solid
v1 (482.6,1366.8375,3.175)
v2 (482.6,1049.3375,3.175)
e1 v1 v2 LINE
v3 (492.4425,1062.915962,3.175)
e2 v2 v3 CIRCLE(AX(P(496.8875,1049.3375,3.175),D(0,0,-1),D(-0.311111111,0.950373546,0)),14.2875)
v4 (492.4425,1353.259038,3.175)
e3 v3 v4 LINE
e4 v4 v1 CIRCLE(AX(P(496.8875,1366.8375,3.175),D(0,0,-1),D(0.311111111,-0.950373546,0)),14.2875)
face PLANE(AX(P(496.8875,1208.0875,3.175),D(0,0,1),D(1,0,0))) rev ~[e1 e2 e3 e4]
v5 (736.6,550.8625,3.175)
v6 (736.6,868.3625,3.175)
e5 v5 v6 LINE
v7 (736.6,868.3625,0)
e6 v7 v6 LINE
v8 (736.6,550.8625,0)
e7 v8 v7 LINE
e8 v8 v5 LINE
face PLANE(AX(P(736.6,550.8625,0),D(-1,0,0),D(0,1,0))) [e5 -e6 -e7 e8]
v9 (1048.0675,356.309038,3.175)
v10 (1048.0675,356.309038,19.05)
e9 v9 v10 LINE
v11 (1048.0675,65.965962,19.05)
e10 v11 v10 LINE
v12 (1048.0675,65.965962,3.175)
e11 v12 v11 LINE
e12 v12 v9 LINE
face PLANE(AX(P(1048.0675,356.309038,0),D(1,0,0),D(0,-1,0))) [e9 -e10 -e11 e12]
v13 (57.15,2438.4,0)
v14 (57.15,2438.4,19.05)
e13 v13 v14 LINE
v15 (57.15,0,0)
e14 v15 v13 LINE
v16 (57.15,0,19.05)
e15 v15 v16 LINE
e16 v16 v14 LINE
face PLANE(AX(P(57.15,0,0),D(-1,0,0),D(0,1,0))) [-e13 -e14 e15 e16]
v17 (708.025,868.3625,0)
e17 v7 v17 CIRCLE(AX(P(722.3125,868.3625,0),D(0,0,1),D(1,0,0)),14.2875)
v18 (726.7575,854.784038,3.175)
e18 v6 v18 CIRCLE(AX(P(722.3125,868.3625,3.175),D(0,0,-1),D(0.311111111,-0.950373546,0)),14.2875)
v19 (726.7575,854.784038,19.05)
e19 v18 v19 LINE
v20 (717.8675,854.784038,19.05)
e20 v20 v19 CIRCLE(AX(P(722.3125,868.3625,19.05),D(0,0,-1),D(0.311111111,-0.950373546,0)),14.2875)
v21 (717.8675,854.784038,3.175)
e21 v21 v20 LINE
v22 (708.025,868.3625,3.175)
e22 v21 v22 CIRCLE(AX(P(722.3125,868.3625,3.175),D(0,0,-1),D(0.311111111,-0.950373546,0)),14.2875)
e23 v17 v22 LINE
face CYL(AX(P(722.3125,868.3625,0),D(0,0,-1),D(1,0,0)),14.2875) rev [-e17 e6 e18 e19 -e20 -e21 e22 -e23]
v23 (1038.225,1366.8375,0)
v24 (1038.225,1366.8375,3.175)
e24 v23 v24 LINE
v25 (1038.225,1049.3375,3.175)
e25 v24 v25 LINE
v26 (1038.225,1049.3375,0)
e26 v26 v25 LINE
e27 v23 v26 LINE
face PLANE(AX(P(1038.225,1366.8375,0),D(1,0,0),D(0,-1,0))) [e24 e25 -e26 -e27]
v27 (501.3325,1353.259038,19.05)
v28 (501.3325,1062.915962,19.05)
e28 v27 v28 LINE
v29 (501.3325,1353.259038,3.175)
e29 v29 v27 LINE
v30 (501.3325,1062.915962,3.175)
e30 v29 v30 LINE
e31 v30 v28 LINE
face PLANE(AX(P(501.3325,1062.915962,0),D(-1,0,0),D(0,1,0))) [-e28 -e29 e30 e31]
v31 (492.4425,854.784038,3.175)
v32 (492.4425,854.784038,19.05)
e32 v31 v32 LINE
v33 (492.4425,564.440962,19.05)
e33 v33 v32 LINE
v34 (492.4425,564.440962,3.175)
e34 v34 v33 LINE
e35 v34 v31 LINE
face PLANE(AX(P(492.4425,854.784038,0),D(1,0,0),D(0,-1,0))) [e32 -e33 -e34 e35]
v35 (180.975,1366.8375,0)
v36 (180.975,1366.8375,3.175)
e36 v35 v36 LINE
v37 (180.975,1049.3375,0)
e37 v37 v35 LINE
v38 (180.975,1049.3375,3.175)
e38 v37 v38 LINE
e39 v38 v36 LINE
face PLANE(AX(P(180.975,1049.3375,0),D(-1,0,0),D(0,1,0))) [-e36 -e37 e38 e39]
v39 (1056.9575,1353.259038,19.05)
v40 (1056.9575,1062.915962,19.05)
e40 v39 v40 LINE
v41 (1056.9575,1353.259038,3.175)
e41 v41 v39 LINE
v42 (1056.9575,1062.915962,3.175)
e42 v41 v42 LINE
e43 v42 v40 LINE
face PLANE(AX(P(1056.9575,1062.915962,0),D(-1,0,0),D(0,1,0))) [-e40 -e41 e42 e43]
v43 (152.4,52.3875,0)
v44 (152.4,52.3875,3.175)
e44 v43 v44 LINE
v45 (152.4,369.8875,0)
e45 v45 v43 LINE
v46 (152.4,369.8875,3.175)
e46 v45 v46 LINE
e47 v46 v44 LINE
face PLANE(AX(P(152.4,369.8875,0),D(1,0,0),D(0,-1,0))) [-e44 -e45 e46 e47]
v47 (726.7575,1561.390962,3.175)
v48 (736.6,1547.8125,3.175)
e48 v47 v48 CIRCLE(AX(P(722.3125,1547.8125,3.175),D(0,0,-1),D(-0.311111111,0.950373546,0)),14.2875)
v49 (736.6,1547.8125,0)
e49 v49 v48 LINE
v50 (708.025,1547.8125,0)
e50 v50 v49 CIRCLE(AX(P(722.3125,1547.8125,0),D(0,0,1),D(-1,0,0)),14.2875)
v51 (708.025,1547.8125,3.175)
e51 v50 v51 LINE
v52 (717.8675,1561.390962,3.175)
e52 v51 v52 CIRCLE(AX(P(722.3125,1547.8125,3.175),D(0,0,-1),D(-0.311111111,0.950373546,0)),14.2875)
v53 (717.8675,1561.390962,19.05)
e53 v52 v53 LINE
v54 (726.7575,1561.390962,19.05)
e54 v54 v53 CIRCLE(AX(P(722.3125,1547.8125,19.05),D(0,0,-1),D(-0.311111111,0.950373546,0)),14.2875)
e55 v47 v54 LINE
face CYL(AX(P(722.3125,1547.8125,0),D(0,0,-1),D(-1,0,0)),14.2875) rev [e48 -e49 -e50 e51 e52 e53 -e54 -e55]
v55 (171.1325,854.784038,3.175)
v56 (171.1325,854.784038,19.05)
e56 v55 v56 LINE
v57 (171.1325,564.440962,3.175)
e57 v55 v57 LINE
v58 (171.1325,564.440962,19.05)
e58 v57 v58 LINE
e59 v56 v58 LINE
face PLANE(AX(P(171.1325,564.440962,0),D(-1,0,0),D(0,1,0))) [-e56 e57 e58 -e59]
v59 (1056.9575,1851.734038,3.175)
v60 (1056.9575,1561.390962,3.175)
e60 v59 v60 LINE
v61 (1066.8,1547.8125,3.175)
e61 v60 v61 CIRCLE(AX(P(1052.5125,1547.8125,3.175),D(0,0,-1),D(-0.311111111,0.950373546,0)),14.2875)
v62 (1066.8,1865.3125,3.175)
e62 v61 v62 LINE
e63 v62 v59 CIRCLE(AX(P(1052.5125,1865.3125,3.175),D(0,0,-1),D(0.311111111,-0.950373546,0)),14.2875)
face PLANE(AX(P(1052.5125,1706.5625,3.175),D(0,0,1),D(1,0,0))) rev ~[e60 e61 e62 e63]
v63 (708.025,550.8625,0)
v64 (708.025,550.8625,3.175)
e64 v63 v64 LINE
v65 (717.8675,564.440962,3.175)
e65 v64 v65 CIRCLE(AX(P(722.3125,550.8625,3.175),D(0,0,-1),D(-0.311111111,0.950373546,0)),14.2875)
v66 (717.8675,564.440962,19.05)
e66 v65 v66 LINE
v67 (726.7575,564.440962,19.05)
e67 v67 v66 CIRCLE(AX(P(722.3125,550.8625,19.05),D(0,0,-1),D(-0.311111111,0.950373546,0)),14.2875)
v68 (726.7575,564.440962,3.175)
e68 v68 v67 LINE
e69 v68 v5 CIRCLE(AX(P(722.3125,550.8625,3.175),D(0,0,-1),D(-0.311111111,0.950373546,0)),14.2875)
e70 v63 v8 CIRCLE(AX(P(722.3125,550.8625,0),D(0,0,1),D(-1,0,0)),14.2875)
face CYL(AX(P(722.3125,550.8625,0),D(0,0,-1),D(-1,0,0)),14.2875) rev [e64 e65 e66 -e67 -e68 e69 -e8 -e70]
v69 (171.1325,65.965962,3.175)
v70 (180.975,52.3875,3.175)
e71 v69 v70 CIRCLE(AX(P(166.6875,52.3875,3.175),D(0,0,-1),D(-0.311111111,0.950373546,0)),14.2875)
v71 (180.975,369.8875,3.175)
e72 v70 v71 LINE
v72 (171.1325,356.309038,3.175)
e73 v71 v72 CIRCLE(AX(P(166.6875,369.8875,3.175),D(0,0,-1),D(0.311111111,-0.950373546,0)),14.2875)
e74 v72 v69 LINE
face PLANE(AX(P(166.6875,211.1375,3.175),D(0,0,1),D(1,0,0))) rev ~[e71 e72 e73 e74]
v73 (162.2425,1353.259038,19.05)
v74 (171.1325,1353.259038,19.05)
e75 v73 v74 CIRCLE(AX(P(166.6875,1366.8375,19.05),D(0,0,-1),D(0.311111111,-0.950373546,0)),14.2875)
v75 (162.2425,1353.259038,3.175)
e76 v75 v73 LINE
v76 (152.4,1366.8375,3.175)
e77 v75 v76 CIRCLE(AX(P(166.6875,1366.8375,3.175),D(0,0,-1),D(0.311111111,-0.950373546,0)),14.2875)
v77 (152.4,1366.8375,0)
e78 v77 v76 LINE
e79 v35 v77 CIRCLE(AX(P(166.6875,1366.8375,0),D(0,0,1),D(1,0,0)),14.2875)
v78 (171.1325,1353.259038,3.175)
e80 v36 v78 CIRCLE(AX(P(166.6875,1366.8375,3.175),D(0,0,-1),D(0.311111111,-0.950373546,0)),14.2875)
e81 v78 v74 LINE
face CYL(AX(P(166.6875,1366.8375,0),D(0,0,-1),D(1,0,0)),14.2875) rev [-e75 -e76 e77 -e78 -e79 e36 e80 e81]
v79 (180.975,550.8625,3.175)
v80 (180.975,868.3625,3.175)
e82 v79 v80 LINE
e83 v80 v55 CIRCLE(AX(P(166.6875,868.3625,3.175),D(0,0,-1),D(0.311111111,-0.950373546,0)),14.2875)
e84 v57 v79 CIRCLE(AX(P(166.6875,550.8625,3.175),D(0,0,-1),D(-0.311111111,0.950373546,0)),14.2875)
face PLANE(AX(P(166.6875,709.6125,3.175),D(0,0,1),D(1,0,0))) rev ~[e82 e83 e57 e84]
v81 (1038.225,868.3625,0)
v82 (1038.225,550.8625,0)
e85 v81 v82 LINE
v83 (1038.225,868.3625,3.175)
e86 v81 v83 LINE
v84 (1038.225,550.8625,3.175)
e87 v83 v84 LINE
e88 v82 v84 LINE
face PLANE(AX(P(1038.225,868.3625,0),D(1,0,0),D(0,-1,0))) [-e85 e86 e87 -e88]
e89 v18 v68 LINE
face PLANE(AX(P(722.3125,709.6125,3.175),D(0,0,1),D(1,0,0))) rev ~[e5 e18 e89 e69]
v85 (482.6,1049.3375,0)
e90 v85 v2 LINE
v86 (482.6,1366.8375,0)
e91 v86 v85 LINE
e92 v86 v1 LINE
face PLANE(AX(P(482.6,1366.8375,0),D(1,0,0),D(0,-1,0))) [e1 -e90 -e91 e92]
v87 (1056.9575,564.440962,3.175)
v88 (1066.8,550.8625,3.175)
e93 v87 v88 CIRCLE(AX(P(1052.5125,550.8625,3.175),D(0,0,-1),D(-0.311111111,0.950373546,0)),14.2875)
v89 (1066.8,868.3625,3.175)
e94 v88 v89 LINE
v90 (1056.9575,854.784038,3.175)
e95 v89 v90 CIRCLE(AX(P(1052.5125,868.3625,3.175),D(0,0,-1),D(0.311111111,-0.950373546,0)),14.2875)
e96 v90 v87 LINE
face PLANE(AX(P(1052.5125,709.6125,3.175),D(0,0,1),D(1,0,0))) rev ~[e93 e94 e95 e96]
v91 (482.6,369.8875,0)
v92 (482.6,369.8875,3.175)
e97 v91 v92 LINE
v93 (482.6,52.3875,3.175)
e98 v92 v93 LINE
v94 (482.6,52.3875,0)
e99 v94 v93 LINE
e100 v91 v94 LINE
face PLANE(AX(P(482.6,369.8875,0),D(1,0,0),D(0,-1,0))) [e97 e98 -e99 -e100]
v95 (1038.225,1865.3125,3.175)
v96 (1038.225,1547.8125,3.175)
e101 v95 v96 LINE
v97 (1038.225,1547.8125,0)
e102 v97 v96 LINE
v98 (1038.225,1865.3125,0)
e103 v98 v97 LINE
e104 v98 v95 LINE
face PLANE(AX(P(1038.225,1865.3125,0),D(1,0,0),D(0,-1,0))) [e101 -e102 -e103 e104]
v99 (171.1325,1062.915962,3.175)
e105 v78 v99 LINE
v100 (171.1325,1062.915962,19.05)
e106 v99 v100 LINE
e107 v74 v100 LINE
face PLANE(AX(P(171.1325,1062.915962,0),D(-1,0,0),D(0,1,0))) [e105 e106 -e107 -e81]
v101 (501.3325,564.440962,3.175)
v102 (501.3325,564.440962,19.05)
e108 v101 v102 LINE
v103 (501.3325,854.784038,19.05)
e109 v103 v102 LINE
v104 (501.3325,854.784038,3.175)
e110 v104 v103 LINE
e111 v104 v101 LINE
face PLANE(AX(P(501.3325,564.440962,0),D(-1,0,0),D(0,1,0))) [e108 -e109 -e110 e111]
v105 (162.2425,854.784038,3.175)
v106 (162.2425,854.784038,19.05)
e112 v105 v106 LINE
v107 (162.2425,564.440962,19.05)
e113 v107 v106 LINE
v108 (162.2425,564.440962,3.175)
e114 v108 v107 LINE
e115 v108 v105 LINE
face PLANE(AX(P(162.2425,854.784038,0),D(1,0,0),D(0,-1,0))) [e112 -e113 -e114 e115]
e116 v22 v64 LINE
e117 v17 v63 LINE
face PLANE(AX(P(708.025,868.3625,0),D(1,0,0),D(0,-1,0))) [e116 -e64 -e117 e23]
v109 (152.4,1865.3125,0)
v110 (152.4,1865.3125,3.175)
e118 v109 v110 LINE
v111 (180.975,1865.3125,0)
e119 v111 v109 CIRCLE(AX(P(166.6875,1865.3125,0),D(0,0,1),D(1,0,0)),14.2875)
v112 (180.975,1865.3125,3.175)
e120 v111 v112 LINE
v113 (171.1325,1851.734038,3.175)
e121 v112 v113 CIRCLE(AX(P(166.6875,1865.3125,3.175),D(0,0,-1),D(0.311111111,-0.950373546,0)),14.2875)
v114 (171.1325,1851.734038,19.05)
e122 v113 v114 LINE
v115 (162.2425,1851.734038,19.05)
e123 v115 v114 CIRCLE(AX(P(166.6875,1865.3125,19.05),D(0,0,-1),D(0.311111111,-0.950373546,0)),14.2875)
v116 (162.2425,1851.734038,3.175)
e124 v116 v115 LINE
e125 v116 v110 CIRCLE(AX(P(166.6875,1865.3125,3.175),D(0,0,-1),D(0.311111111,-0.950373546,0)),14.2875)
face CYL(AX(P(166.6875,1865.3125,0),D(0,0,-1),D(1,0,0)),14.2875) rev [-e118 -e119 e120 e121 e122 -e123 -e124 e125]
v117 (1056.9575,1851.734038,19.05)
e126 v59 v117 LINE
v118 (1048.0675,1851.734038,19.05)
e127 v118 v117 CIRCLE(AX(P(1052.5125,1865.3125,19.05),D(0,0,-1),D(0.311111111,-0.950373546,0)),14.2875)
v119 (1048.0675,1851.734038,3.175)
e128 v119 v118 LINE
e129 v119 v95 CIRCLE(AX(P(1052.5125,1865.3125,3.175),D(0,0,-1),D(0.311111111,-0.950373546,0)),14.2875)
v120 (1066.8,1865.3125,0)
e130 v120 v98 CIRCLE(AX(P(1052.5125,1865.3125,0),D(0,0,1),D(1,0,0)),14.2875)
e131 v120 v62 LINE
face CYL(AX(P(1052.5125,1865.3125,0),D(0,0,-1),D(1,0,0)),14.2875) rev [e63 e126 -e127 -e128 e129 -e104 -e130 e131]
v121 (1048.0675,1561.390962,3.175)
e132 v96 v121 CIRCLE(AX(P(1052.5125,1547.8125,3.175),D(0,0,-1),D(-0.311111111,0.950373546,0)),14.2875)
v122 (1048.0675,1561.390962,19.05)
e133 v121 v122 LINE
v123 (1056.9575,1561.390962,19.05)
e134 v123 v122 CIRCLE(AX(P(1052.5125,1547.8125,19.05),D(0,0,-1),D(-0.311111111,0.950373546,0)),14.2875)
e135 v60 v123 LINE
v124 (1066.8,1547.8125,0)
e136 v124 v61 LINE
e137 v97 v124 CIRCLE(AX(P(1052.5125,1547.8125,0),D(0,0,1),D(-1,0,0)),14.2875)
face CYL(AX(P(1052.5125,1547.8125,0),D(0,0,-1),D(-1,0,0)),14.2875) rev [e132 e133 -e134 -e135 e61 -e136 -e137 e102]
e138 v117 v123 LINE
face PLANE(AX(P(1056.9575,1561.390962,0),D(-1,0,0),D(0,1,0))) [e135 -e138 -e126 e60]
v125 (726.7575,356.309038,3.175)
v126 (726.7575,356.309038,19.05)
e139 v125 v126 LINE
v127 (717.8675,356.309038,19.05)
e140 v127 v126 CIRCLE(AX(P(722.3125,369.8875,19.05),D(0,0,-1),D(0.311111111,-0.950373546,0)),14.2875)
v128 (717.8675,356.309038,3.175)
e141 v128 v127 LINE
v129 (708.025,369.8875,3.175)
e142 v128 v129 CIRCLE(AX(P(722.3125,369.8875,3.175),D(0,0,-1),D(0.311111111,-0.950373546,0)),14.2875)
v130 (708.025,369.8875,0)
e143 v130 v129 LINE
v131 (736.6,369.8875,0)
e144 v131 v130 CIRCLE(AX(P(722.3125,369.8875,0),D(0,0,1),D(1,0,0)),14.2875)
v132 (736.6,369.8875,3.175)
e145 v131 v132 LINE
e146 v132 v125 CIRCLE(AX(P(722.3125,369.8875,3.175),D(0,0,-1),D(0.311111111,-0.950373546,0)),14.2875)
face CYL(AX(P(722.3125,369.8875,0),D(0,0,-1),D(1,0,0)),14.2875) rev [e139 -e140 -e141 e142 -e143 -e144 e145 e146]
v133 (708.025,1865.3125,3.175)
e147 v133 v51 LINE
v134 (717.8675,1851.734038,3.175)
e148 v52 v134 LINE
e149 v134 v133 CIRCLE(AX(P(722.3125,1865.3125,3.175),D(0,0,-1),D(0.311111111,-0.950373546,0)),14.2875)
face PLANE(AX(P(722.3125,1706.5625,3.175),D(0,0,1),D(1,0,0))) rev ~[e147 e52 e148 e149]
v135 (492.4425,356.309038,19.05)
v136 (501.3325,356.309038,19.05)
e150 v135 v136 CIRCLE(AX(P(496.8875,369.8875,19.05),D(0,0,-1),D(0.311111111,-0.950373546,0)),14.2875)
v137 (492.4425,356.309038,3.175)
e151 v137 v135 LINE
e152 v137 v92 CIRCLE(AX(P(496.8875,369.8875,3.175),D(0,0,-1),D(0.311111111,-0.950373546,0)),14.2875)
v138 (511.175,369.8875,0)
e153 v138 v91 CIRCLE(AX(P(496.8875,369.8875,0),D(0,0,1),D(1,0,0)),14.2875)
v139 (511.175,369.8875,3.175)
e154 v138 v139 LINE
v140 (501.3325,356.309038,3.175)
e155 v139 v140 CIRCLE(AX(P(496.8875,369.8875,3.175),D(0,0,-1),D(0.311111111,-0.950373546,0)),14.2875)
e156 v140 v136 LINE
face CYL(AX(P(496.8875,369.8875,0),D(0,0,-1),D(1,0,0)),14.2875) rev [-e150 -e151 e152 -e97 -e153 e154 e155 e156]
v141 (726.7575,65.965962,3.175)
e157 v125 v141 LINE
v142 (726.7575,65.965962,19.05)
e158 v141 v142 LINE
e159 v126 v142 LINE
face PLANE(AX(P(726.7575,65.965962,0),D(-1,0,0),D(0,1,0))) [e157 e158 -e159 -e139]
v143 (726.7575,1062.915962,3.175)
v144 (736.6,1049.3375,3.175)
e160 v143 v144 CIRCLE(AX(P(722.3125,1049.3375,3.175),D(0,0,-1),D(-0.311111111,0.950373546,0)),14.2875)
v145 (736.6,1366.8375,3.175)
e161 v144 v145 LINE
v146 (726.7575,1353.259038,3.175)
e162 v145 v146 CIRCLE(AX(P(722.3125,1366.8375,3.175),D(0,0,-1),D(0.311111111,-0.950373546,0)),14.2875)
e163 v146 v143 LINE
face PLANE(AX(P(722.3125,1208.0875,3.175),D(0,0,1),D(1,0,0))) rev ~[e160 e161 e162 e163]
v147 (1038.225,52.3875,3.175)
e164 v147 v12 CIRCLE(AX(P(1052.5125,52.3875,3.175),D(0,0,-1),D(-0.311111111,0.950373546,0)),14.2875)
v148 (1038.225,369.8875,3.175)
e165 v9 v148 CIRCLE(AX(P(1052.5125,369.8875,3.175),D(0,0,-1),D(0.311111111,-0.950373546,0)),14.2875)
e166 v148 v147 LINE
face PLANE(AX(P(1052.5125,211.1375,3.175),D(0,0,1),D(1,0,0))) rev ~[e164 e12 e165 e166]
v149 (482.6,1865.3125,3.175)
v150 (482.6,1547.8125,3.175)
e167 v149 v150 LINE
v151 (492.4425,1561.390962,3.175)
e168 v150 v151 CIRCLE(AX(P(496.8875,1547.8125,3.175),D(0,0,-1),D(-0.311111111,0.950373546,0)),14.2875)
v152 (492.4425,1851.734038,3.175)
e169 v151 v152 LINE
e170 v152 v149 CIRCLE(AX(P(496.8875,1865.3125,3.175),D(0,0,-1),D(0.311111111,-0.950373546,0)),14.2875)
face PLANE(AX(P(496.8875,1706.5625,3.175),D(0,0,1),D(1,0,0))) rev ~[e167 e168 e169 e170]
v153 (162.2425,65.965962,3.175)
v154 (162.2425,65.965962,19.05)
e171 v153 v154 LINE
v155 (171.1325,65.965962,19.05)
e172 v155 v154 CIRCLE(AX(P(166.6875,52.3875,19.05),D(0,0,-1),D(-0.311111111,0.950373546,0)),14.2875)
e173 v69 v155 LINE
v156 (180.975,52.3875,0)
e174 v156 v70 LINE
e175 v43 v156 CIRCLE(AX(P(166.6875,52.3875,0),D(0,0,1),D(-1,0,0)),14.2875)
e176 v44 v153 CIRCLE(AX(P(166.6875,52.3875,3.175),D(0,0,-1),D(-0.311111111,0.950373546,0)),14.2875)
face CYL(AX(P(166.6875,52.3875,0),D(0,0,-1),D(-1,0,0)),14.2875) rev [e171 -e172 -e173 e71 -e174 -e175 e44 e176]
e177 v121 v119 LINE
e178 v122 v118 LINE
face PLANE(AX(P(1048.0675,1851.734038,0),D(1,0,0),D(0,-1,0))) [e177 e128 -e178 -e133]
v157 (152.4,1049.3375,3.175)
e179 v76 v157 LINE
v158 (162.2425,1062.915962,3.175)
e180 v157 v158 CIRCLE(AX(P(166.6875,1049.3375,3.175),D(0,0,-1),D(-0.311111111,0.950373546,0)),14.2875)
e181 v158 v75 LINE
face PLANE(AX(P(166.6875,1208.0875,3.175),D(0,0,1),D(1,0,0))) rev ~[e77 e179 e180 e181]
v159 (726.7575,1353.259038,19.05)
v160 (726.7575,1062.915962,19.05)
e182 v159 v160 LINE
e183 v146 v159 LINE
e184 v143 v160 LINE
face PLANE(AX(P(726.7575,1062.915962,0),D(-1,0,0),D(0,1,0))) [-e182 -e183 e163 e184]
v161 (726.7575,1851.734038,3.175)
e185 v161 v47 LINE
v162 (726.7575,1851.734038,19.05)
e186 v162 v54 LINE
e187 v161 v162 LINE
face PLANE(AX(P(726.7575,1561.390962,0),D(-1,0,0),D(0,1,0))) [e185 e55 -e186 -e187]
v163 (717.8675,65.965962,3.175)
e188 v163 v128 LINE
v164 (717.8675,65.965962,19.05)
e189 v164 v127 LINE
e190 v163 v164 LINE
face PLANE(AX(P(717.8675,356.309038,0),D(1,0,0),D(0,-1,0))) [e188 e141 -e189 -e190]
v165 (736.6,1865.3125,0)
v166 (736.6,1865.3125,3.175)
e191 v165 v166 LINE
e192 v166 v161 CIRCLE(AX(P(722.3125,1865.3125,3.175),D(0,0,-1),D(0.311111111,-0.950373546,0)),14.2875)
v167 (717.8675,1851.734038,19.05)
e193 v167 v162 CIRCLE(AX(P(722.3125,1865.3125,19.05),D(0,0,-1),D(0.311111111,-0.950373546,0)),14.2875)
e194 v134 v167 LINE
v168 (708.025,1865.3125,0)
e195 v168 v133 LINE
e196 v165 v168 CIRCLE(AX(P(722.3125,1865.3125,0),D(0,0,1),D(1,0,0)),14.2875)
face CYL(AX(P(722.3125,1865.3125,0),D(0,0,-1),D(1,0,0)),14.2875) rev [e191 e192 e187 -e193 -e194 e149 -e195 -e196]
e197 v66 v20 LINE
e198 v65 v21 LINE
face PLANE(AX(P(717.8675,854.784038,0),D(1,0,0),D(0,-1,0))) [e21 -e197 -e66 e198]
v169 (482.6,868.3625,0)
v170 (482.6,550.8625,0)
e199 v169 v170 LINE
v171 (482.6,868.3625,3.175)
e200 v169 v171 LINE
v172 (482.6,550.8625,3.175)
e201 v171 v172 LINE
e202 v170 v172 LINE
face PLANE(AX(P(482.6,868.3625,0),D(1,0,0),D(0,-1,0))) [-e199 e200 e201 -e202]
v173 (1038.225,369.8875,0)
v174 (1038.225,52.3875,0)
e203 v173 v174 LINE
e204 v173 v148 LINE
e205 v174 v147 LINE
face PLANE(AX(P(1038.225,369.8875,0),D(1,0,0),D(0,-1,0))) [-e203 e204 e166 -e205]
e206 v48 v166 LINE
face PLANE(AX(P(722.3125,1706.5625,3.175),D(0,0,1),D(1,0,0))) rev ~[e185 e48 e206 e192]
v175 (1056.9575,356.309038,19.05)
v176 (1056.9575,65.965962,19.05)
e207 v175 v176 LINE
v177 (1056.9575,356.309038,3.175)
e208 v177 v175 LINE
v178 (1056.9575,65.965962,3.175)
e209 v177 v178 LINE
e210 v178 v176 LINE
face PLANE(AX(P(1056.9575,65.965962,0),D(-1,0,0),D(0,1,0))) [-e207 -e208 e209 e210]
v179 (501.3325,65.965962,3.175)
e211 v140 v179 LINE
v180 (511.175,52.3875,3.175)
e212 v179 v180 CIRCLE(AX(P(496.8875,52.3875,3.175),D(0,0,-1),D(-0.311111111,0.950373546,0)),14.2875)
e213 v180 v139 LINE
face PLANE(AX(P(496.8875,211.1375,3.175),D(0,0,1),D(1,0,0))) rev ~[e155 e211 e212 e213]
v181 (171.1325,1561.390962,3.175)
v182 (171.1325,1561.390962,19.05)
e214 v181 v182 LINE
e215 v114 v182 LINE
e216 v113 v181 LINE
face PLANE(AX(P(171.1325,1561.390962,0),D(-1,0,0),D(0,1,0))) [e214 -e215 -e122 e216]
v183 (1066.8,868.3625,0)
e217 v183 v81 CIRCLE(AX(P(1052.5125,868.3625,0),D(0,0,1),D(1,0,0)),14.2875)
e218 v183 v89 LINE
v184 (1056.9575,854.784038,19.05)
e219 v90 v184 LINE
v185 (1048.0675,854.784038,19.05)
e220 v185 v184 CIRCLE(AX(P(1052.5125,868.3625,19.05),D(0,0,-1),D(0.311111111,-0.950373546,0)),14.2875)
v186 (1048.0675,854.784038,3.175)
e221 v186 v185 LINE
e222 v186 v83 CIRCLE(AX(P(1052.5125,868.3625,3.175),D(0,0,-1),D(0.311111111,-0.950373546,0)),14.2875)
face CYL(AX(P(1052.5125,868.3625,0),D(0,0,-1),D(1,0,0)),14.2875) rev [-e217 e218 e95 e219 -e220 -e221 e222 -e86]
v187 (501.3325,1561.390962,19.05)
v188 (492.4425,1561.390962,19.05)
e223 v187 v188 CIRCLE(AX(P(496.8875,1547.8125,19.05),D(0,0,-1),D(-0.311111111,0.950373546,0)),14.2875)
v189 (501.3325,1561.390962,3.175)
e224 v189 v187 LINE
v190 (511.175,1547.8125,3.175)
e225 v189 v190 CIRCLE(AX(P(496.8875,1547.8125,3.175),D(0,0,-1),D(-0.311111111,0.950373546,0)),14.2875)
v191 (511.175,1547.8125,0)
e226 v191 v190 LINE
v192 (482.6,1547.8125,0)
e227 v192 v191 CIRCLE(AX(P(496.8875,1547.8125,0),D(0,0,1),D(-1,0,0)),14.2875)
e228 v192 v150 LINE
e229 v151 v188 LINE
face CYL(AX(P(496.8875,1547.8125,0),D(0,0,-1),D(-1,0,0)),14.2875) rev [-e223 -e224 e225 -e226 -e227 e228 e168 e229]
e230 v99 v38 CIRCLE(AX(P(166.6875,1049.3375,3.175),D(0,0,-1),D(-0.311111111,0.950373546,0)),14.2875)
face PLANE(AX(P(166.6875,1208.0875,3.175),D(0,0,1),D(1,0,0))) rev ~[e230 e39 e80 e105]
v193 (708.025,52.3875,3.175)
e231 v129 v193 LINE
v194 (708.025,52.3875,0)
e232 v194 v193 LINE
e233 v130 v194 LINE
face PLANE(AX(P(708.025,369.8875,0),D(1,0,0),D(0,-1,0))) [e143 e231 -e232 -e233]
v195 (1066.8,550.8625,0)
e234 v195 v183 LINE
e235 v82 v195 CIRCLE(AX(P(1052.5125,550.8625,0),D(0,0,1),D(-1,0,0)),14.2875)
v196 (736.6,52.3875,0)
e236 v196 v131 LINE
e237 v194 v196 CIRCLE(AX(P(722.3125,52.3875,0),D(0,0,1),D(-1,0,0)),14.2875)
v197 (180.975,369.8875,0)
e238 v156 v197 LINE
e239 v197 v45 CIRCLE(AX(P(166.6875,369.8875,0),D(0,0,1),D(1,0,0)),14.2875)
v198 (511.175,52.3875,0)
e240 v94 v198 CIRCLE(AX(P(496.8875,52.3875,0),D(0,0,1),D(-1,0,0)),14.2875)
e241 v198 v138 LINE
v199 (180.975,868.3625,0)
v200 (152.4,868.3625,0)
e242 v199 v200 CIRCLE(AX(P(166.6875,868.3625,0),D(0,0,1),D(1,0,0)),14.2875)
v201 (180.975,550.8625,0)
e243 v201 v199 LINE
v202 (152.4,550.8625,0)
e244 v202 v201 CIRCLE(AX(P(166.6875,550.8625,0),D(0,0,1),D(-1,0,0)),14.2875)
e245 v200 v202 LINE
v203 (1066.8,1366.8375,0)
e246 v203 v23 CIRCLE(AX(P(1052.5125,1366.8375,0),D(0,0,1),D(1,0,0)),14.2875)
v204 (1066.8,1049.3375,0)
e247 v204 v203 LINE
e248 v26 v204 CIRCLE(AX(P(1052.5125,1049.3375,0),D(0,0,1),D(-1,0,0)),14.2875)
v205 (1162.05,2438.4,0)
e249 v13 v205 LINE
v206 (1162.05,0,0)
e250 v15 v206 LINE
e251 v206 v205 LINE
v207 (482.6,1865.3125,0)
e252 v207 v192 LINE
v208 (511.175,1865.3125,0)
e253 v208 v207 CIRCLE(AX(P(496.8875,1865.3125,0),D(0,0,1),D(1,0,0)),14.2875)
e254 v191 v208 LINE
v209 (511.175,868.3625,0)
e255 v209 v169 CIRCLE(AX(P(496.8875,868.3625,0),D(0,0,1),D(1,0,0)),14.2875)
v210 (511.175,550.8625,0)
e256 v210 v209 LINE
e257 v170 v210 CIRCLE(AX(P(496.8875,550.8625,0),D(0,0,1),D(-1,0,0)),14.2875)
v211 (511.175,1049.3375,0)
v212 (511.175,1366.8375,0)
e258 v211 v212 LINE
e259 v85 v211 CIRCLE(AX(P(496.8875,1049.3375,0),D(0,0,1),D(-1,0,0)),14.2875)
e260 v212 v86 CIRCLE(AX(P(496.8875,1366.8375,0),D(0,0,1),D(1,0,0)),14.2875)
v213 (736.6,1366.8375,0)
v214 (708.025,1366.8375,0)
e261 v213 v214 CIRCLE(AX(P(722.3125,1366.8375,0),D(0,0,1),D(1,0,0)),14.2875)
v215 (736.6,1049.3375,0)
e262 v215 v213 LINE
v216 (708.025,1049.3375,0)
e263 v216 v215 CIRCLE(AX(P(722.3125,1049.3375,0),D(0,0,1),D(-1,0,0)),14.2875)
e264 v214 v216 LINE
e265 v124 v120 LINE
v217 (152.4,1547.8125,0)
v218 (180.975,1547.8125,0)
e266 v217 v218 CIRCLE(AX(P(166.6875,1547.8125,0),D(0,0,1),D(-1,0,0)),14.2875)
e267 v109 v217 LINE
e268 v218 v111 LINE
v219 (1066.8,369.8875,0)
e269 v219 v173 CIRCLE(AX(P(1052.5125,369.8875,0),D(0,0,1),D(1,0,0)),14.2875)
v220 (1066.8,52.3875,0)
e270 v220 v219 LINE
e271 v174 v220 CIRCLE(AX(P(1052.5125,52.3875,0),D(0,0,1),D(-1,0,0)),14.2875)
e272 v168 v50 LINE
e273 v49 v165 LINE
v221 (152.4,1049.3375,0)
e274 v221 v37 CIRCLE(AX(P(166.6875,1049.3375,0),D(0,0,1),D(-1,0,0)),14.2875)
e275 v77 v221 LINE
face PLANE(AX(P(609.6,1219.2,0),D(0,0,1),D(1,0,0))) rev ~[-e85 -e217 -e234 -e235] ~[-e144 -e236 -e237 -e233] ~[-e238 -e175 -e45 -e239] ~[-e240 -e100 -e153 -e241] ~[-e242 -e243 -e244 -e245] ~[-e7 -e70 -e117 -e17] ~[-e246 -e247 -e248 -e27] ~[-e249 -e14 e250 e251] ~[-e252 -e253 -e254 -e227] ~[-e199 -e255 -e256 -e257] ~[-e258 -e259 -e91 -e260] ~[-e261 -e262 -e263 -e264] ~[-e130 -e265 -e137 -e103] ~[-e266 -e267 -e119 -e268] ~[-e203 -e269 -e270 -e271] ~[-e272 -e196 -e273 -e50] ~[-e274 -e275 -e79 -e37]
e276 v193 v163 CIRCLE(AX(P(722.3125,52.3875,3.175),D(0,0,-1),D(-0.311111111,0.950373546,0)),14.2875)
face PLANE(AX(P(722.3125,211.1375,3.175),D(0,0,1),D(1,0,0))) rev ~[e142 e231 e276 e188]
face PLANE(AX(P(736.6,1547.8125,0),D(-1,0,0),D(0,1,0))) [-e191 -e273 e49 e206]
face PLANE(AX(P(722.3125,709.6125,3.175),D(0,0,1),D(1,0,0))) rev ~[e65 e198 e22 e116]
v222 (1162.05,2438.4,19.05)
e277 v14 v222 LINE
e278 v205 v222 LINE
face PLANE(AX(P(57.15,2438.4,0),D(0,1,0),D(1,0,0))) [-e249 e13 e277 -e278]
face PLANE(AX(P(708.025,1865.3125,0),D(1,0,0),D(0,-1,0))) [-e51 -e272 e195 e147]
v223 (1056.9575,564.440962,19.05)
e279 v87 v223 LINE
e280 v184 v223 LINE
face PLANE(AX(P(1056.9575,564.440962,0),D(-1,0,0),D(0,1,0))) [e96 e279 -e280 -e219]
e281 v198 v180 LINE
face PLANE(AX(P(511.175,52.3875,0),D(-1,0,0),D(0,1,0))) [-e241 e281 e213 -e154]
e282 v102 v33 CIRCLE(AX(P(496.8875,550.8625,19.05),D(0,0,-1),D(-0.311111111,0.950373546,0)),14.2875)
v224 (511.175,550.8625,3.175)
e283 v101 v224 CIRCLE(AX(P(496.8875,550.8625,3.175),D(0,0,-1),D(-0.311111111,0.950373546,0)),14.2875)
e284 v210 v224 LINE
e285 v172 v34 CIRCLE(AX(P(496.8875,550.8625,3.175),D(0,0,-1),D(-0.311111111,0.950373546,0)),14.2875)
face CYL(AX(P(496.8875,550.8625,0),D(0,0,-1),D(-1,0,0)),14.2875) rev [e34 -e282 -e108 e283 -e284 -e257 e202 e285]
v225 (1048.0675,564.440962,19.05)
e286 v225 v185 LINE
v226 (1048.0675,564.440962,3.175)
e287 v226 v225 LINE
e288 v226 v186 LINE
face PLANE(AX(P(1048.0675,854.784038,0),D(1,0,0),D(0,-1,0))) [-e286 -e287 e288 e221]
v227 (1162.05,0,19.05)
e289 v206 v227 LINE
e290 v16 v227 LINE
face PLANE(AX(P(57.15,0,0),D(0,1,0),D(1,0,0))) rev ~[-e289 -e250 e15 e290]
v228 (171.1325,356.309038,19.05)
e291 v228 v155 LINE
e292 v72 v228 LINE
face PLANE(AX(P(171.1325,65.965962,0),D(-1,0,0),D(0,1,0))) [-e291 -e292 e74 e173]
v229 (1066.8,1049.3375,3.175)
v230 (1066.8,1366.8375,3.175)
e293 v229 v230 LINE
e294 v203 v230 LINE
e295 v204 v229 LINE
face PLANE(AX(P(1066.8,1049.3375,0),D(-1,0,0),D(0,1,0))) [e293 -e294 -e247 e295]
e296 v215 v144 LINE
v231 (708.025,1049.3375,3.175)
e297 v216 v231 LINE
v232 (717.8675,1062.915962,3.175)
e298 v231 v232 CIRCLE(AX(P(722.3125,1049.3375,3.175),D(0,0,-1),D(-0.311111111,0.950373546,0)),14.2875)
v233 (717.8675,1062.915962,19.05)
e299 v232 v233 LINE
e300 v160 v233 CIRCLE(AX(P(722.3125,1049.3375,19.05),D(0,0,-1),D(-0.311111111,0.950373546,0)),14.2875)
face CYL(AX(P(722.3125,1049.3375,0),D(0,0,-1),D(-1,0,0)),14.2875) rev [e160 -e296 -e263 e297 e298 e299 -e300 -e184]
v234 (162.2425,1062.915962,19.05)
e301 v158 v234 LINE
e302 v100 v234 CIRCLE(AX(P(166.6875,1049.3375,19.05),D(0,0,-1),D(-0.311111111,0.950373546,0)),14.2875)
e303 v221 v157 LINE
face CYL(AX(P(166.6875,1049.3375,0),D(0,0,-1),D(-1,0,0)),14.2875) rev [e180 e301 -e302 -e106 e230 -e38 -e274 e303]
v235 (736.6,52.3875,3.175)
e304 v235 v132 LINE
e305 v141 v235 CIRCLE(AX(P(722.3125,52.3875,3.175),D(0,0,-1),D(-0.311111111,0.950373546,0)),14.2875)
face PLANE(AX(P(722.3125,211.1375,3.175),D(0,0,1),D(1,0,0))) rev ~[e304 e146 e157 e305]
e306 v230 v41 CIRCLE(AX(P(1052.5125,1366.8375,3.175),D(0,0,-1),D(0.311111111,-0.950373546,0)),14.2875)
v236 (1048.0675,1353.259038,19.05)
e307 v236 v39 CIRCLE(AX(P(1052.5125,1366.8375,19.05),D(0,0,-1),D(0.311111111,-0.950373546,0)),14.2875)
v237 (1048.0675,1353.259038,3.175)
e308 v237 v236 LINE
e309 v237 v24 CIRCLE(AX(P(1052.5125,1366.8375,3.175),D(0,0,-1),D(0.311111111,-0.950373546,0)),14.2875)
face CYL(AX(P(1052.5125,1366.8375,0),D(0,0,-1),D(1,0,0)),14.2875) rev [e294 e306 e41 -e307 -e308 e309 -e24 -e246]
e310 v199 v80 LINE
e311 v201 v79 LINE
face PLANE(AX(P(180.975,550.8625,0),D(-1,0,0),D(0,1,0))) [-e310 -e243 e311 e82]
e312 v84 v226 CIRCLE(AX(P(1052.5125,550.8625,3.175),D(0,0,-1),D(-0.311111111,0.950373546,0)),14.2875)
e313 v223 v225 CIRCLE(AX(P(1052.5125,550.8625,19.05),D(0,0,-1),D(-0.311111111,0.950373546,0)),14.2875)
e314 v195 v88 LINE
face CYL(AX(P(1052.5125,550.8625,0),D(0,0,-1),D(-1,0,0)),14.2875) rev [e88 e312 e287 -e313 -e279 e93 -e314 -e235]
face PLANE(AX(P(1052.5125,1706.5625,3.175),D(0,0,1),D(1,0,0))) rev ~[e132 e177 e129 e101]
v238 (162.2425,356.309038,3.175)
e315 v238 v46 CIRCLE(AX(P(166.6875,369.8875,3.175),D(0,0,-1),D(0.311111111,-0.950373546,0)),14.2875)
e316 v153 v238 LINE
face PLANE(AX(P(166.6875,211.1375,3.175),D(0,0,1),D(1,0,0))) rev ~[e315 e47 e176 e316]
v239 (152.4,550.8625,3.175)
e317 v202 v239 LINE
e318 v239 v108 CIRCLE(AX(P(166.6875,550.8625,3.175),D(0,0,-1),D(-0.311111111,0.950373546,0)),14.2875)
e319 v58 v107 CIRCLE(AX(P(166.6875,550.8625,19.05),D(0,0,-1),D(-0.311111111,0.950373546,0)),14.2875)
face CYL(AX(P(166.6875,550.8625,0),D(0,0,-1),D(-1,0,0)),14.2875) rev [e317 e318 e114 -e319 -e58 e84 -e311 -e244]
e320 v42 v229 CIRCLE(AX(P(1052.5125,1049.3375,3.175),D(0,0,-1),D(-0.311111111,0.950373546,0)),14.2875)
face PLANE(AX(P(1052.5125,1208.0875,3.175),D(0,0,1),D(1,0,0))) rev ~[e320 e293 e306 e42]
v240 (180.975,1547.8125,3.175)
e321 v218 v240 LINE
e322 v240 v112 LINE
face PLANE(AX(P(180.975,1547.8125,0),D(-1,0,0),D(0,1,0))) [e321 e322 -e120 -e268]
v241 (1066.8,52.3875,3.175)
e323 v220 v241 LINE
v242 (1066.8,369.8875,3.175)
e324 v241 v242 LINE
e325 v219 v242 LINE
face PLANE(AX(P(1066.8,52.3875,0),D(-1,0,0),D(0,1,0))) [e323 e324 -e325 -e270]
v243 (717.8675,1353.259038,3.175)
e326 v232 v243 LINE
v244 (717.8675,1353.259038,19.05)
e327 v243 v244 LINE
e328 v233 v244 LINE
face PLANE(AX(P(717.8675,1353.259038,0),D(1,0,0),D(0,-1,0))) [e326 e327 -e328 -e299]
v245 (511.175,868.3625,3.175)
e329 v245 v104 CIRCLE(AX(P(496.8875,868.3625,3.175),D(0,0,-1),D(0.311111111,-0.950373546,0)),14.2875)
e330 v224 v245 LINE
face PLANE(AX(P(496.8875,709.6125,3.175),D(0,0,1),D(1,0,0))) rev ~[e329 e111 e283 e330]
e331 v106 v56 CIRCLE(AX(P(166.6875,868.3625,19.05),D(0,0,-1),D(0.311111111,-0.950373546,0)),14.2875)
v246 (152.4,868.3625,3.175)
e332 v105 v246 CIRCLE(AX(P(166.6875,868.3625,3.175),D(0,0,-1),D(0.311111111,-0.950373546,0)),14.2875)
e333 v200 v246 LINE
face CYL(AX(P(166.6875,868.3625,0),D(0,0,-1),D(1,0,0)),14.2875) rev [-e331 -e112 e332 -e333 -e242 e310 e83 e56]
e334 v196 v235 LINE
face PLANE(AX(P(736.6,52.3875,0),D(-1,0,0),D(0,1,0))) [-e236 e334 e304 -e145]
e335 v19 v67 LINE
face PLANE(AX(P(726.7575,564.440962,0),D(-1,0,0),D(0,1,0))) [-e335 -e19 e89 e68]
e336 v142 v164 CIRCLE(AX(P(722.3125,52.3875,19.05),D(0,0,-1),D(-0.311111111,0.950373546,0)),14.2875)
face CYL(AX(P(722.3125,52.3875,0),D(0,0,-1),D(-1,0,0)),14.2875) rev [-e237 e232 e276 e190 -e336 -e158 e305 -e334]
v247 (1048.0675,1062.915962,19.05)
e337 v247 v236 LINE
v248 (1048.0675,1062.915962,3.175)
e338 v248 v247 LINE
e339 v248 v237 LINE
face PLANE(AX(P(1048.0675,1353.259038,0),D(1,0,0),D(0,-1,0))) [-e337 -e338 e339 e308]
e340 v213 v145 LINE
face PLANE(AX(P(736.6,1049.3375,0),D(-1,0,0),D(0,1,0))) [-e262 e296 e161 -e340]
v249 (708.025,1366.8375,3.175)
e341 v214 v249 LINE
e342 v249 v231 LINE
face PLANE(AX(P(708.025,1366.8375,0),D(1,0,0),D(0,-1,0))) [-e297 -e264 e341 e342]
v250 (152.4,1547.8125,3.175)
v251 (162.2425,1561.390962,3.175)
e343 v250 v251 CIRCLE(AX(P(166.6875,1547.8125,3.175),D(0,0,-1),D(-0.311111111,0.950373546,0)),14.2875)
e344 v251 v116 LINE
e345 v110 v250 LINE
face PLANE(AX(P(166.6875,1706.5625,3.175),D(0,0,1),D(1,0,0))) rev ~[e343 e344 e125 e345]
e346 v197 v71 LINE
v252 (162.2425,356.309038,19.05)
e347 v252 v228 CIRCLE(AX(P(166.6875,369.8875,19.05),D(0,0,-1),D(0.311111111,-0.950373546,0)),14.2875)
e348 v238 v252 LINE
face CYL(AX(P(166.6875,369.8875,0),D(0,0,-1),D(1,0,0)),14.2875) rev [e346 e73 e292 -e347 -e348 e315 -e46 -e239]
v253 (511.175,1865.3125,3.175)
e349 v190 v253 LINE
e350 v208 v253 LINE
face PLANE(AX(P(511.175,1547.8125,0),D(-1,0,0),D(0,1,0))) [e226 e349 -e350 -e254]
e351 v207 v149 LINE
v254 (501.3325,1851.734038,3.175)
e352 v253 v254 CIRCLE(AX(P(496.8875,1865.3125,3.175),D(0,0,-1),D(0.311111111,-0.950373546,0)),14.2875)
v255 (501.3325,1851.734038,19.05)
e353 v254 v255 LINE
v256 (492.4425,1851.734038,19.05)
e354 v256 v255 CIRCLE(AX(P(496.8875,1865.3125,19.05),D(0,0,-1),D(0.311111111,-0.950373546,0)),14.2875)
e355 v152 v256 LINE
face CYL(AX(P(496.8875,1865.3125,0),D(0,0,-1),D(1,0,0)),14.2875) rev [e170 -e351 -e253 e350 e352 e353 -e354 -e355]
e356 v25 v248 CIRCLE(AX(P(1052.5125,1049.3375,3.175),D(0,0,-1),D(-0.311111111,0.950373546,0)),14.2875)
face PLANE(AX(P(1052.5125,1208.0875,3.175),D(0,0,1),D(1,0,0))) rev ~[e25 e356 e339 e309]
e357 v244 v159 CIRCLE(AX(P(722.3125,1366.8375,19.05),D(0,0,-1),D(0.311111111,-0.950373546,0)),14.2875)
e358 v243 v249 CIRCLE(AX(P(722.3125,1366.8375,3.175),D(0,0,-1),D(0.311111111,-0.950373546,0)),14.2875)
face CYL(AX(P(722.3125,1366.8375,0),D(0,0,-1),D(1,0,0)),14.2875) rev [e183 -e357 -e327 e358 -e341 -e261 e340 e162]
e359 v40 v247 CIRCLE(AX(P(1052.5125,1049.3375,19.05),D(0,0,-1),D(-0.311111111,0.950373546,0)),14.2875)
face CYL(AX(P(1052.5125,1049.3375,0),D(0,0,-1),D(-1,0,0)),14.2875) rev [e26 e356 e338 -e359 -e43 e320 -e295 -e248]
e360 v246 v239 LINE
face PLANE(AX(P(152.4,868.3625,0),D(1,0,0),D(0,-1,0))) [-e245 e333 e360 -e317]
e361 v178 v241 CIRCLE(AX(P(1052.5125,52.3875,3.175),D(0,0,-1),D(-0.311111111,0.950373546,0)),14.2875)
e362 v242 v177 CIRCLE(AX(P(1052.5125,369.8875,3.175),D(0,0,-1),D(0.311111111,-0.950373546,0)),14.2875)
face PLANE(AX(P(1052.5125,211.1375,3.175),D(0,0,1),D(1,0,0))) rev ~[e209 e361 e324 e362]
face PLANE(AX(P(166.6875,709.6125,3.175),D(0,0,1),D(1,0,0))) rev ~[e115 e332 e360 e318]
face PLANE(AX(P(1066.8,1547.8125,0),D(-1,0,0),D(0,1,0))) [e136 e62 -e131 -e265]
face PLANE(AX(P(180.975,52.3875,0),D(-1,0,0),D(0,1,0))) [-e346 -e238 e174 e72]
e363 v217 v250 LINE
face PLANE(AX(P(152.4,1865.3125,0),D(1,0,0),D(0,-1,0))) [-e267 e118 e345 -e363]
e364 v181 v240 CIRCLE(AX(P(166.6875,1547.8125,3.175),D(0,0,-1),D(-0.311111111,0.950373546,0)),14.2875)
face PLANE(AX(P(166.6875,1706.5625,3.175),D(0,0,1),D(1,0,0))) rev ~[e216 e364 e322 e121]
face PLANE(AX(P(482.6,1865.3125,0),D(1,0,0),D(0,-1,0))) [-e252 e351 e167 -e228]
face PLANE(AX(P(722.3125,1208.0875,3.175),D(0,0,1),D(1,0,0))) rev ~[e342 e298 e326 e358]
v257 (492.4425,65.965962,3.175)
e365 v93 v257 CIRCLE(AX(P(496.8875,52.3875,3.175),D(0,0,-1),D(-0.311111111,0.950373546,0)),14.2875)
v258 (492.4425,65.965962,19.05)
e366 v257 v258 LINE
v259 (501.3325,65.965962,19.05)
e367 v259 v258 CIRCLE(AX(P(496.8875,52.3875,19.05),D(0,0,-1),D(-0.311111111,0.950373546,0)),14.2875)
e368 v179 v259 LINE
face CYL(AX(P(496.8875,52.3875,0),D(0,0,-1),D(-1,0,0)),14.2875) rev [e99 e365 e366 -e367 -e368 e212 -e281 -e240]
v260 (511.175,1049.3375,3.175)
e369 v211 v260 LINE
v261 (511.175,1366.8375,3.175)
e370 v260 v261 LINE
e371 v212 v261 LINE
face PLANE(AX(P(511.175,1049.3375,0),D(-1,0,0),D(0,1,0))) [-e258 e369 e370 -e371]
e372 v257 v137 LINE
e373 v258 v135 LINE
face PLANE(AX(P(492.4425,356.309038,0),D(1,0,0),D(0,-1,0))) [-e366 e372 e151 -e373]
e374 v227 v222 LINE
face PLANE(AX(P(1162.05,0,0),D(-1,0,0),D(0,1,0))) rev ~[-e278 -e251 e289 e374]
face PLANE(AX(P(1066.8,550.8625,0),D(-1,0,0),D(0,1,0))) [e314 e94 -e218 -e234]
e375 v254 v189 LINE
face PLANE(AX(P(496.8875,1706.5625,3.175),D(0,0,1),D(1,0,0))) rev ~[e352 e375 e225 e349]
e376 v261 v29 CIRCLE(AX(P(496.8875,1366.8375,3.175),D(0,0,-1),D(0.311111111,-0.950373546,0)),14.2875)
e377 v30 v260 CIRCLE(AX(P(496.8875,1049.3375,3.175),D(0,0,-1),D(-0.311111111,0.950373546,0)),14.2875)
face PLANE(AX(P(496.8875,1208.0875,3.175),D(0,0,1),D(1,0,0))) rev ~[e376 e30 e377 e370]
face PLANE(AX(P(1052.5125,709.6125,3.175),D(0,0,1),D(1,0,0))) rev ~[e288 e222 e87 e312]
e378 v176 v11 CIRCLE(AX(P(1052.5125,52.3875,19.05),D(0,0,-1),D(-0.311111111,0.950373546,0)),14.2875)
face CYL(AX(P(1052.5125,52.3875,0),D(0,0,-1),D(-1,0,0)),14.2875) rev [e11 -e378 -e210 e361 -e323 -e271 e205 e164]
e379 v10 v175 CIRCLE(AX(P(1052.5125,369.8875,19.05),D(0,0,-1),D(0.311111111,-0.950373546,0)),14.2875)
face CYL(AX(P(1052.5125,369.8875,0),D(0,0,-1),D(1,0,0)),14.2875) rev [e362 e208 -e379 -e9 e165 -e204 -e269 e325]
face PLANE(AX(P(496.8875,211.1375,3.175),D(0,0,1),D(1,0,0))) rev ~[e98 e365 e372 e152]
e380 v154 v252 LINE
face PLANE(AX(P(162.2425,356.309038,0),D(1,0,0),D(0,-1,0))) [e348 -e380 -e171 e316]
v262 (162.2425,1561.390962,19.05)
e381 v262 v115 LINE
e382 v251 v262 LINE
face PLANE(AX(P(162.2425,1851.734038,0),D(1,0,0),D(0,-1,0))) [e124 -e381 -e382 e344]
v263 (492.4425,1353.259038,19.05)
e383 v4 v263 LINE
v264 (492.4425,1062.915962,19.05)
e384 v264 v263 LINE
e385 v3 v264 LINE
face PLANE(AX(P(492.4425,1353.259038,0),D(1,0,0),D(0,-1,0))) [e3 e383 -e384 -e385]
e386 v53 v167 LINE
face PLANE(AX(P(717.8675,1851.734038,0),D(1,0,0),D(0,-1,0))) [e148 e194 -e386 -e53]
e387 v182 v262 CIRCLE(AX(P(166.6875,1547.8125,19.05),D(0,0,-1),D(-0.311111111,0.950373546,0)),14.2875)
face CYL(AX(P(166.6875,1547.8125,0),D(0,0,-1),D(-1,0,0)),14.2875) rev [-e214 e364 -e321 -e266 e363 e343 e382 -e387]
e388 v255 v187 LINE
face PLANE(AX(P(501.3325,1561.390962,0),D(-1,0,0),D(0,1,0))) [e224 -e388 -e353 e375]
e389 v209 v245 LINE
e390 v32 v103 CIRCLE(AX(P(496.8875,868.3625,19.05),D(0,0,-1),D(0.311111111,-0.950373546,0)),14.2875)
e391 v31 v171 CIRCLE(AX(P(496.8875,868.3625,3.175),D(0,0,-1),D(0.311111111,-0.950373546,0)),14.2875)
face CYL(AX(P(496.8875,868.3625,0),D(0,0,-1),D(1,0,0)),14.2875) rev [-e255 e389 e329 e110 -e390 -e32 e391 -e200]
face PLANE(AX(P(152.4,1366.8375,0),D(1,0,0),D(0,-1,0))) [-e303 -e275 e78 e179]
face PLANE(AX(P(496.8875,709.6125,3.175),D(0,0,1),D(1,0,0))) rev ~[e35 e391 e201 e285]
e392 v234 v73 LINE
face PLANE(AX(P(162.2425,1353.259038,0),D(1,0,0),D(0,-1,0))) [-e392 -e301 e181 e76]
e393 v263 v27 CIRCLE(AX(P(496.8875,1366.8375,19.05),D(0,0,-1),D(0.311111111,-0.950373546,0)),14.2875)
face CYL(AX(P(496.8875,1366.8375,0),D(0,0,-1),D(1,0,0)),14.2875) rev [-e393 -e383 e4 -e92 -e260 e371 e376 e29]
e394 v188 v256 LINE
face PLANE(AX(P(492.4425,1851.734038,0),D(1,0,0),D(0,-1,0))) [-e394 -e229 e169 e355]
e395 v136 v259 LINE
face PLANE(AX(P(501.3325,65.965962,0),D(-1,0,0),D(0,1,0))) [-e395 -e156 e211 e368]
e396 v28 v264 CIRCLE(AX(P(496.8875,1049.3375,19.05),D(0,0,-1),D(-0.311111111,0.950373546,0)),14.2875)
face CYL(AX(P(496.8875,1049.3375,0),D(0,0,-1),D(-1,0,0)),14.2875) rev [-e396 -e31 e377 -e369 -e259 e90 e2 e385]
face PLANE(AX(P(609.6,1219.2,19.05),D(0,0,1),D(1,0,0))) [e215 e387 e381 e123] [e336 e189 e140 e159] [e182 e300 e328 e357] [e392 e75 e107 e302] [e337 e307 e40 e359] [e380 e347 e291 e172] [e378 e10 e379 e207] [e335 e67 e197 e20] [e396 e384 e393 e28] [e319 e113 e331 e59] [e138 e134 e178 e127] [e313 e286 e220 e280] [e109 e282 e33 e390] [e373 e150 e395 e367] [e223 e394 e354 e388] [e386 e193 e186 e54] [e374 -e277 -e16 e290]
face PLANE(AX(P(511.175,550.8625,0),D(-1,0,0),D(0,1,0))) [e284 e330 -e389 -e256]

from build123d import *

# Parameters (mm, degrees)
F0_W     = 1104.9
F0_H     = 2438.4
F1_DEPTH = 19.05
F3_DEPTH = 3.175
F5_DEPTH = 25.4


with BuildPart() as f1:
    # F0 (on Top) → F1 (new body)
    with BuildSketch(Plane.XY):
        with Locations((609.6, 1219.2)):
            Rectangle(F0_W, F0_H)
    extrude(amount=F1_DEPTH)

    # F2 (on Top) → F3 (cut)
    with BuildSketch(Plane.XY):
        with BuildLine():
            Line((180.975, 52.3875), (180.975, 369.8875))
            ThreePointArc((180.975, 369.8875), (166.6875, 384.175), (152.4, 369.8875))
            Line((152.4, 369.8875), (152.4, 52.3875))
            ThreePointArc((152.4, 52.3875), (166.6875, 38.1), (180.975, 52.3875))
        make_face()
        with BuildLine():
            ThreePointArc((1066.8, 369.8875), (1052.5125, 384.175), (1038.225, 369.8875))
            Line((1038.225, 369.8875), (1038.225, 52.3875))
            ThreePointArc((1038.225, 52.3875), (1052.5125, 38.1), (1066.8, 52.3875))
            Line((1066.8, 52.3875), (1066.8, 369.8875))
        make_face()
        with BuildLine():
            Line((482.6, 369.8875), (482.6, 52.3875))
            ThreePointArc((482.6, 52.3875), (496.8875, 38.1), (511.175, 52.3875))
            Line((511.175, 52.3875), (511.175, 369.8875))
            ThreePointArc((511.175, 369.8875), (496.8875, 384.175), (482.6, 369.8875))
        make_face()
        with BuildLine():
            ThreePointArc((736.6, 369.8875), (722.3125, 384.175), (708.025, 369.8875))
            Line((708.025, 369.8875), (708.025, 52.3875))
            ThreePointArc((708.025, 52.3875), (722.3125, 38.1), (736.6, 52.3875))
            Line((736.6, 52.3875), (736.6, 369.8875))
        make_face()
        with BuildLine():
            ThreePointArc((152.4, 550.8625), (166.6875, 536.575), (180.975, 550.8625))
            Line((180.975, 550.8625), (180.975, 868.3625))
            ThreePointArc((180.975, 868.3625), (166.6875, 882.65), (152.4, 868.3625))
            Line((152.4, 868.3625), (152.4, 550.8625))
        make_face()
        with BuildLine():
            Line((152.4, 1366.8375), (152.4, 1049.3375))
            ThreePointArc((152.4, 1049.3375), (166.6875, 1035.05), (180.975, 1049.3375))
            Line((180.975, 1049.3375), (180.975, 1366.8375))
            ThreePointArc((180.975, 1366.8375), (166.6875, 1381.125), (152.4, 1366.8375))
        make_face()
        with BuildLine():
            ThreePointArc((152.4, 1547.8125), (166.6875, 1533.525), (180.975, 1547.8125))
            Line((180.975, 1547.8125), (180.975, 1865.3125))
            ThreePointArc((180.975, 1865.3125), (166.6875, 1879.6), (152.4, 1865.3125))
            Line((152.4, 1865.3125), (152.4, 1547.8125))
        make_face()
        with BuildLine():
            ThreePointArc((511.175, 1865.3125), (496.8875, 1879.6), (482.6, 1865.3125))
            Line((482.6, 1865.3125), (482.6, 1547.8125))
            ThreePointArc((482.6, 1547.8125), (496.8875, 1533.525), (511.175, 1547.8125))
            Line((511.175, 1547.8125), (511.175, 1865.3125))
        make_face()
        with BuildLine():
            Line((1038.225, 868.3625), (1038.225, 550.8625))
            ThreePointArc((1038.225, 550.8625), (1052.5125, 536.575), (1066.8, 550.8625))
            Line((1066.8, 550.8625), (1066.8, 868.3625))
            ThreePointArc((1066.8, 868.3625), (1052.5125, 882.65), (1038.225, 868.3625))
        make_face()
        with BuildLine():
            Line((708.025, 868.3625), (708.025, 550.8625))
            ThreePointArc((708.025, 550.8625), (722.3125, 536.575), (736.6, 550.8625))
            Line((736.6, 550.8625), (736.6, 868.3625))
            ThreePointArc((736.6, 868.3625), (722.3125, 882.65), (708.025, 868.3625))
        make_face()
        with BuildLine():
            ThreePointArc((482.6, 550.8625), (496.8875, 536.575), (511.175, 550.8625))
            Line((511.175, 550.8625), (511.175, 868.3625))
            ThreePointArc((511.175, 868.3625), (496.8875, 882.65), (482.6, 868.3625))
            Line((482.6, 868.3625), (482.6, 550.8625))
        make_face()
        with BuildLine():
            ThreePointArc((708.025, 1049.3375), (722.3125, 1035.05), (736.6, 1049.3375))
            Line((736.6, 1049.3375), (736.6, 1366.8375))
            ThreePointArc((736.6, 1366.8375), (722.3125, 1381.125), (708.025, 1366.8375))
            Line((708.025, 1366.8375), (708.025, 1049.3375))
        make_face()
        with BuildLine():
            Line((708.025, 1865.3125), (708.025, 1547.8125))
            ThreePointArc((708.025, 1547.8125), (722.3125, 1533.525), (736.6, 1547.8125))
            Line((736.6, 1547.8125), (736.6, 1865.3125))
            ThreePointArc((736.6, 1865.3125), (722.3125, 1879.6), (708.025, 1865.3125))
        make_face()
        with BuildLine():
            Line((1038.225, 1865.3125), (1038.225, 1547.8125))
            ThreePointArc((1038.225, 1547.8125), (1052.5125, 1533.525), (1066.8, 1547.8125))
            Line((1066.8, 1547.8125), (1066.8, 1865.3125))
            ThreePointArc((1066.8, 1865.3125), (1052.5125, 1879.6), (1038.225, 1865.3125))
        make_face()
        with BuildLine():
            ThreePointArc((1038.225, 1049.3375), (1052.5125, 1035.05), (1066.8, 1049.3375))
            Line((1066.8, 1049.3375), (1066.8, 1366.8375))
            ThreePointArc((1066.8, 1366.8375), (1052.5125, 1381.125), (1038.225, 1366.8375))
            Line((1038.225, 1366.8375), (1038.225, 1049.3375))
        make_face()
        with BuildLine():
            Line((511.175, 1049.3375), (511.175, 1366.8375))
            ThreePointArc((511.175, 1366.8375), (496.8875, 1381.125), (482.6, 1366.8375))
            Line((482.6, 1366.8375), (482.6, 1049.3375))
            ThreePointArc((482.6, 1049.3375), (496.8875, 1035.05), (511.175, 1049.3375))
        make_face()
    extrude(amount=F3_DEPTH, mode=Mode.SUBTRACT)

    # F4 (on Top) → F5 (cut)
    with BuildSketch(Plane.XY):
        with BuildLine():
            Line((1048.0675, 356.309038), (1048.0675, 65.965962))
            ThreePointArc((1048.0675, 65.965962), (1052.5125, 38.1), (1056.9575, 65.965962))
            Line((1056.9575, 65.965962), (1056.9575, 356.309038))
            ThreePointArc((1056.9575, 356.309038), (1052.5125, 384.175), (1048.0675, 356.309038))
        make_face()
        with BuildLine():
            Line((726.7575, 65.965962), (726.7575, 356.309038))
            ThreePointArc((726.7575, 356.309038), (722.3125, 384.175), (717.8675, 356.309038))
            Line((717.8675, 356.309038), (717.8675, 65.965962))
            ThreePointArc((717.8675, 65.965962), (722.3125, 38.1), (726.7575, 65.965962))
        make_face()
        with BuildLine():
            Line((501.3325, 65.965962), (501.3325, 356.309038))
            ThreePointArc((501.3325, 356.309038), (496.8875, 384.175), (492.4425, 356.309038))
            Line((492.4425, 356.309038), (492.4425, 65.965962))
            ThreePointArc((492.4425, 65.965962), (496.8875, 38.1), (501.3325, 65.965962))
        make_face()
        with BuildLine():
            Line((171.1325, 65.965962), (171.1325, 356.309038))
            ThreePointArc((171.1325, 356.309038), (166.6875, 384.175), (162.2425, 356.309038))
            Line((162.2425, 356.309038), (162.2425, 65.965962))
            ThreePointArc((162.2425, 65.965962), (166.6875, 38.1), (171.1325, 65.965962))
        make_face()
        with BuildLine():
            Line((501.3325, 564.440962), (501.3325, 854.784038))
            ThreePointArc((501.3325, 854.784038), (496.8875, 882.65), (492.4425, 854.784038))
            Line((492.4425, 854.784038), (492.4425, 564.440962))
            ThreePointArc((492.4425, 564.440962), (496.8875, 536.575), (501.3325, 564.440962))
        make_face()
        with BuildLine():
            Line((717.8675, 854.784038), (717.8675, 564.440962))
            ThreePointArc((717.8675, 564.440962), (722.3125, 536.575), (726.7575, 564.440962))
            Line((726.7575, 564.440962), (726.7575, 854.784038))
            ThreePointArc((726.7575, 854.784038), (722.3125, 882.65), (717.8675, 854.784038))
        make_face()
        with BuildLine():
            Line((171.1325, 564.440962), (171.1325, 854.784038))
            ThreePointArc((171.1325, 854.784038), (166.6875, 882.65), (162.2425, 854.784038))
            Line((162.2425, 854.784038), (162.2425, 564.440962))
            ThreePointArc((162.2425, 564.440962), (166.6875, 536.575), (171.1325, 564.440962))
        make_face()
        with BuildLine():
            Line((1048.0675, 854.784038), (1048.0675, 564.440962))
            ThreePointArc((1048.0675, 564.440962), (1052.5125, 536.575), (1056.9575, 564.440962))
            Line((1056.9575, 564.440962), (1056.9575, 854.784038))
            ThreePointArc((1056.9575, 854.784038), (1052.5125, 882.65), (1048.0675, 854.784038))
        make_face()
        with BuildLine():
            Line((501.3325, 1062.915962), (501.3325, 1353.259038))
            ThreePointArc((501.3325, 1353.259038), (496.8875, 1381.125), (492.4425, 1353.259038))
            Line((492.4425, 1353.259038), (492.4425, 1062.915962))
            ThreePointArc((492.4425, 1062.915962), (496.8875, 1035.05), (501.3325, 1062.915962))
        make_face()
        with BuildLine():
            Line((717.8675, 1353.259038), (717.8675, 1062.915962))
            ThreePointArc((717.8675, 1062.915962), (722.3125, 1035.05), (726.7575, 1062.915962))
            Line((726.7575, 1062.915962), (726.7575, 1353.259038))
            ThreePointArc((726.7575, 1353.259038), (722.3125, 1381.125), (717.8675, 1353.259038))
        make_face()
        with BuildLine():
            Line((171.1325, 1062.915962), (171.1325, 1353.259038))
            ThreePointArc((171.1325, 1353.259038), (166.6875, 1381.125), (162.2425, 1353.259038))
            Line((162.2425, 1353.259038), (162.2425, 1062.915962))
            ThreePointArc((162.2425, 1062.915962), (166.6875, 1035.05), (171.1325, 1062.915962))
        make_face()
        with BuildLine():
            Line((1048.0675, 1353.259038), (1048.0675, 1062.915962))
            ThreePointArc((1048.0675, 1062.915962), (1052.5125, 1035.05), (1056.9575, 1062.915962))
            Line((1056.9575, 1062.915962), (1056.9575, 1353.259038))
            ThreePointArc((1056.9575, 1353.259038), (1052.5125, 1381.125), (1048.0675, 1353.259038))
        make_face()
        with BuildLine():
            Line((501.3325, 1561.390962), (501.3325, 1851.734038))
            ThreePointArc((501.3325, 1851.734038), (496.8875, 1879.6), (492.4425, 1851.734038))
            Line((492.4425, 1851.734038), (492.4425, 1561.390962))
            ThreePointArc((492.4425, 1561.390962), (496.8875, 1533.525), (501.3325, 1561.390962))
        make_face()
        with BuildLine():
            Line((717.8675, 1851.734038), (717.8675, 1561.390962))
            ThreePointArc((717.8675, 1561.390962), (722.3125, 1533.525), (726.7575, 1561.390962))
            Line((726.7575, 1561.390962), (726.7575, 1851.734038))
            ThreePointArc((726.7575, 1851.734038), (722.3125, 1879.6), (717.8675, 1851.734038))
        make_face()
        with BuildLine():
            Line((171.1325, 1561.390962), (171.1325, 1851.734038))
            ThreePointArc((171.1325, 1851.734038), (166.6875, 1879.6), (162.2425, 1851.734038))
            Line((162.2425, 1851.734038), (162.2425, 1561.390962))
            ThreePointArc((162.2425, 1561.390962), (166.6875, 1533.525), (171.1325, 1561.390962))
        make_face()
        with BuildLine():
            Line((1048.0675, 1851.734038), (1048.0675, 1561.390962))
            ThreePointArc((1048.0675, 1561.390962), (1052.5125, 1533.525), (1056.9575, 1561.390962))
            Line((1056.9575, 1561.390962), (1056.9575, 1851.734038))
            ThreePointArc((1056.9575, 1851.734038), (1052.5125, 1879.6), (1048.0675, 1851.734038))
        make_face()
    extrude(amount=F5_DEPTH, mode=Mode.SUBTRACT)


solid = f1.part
